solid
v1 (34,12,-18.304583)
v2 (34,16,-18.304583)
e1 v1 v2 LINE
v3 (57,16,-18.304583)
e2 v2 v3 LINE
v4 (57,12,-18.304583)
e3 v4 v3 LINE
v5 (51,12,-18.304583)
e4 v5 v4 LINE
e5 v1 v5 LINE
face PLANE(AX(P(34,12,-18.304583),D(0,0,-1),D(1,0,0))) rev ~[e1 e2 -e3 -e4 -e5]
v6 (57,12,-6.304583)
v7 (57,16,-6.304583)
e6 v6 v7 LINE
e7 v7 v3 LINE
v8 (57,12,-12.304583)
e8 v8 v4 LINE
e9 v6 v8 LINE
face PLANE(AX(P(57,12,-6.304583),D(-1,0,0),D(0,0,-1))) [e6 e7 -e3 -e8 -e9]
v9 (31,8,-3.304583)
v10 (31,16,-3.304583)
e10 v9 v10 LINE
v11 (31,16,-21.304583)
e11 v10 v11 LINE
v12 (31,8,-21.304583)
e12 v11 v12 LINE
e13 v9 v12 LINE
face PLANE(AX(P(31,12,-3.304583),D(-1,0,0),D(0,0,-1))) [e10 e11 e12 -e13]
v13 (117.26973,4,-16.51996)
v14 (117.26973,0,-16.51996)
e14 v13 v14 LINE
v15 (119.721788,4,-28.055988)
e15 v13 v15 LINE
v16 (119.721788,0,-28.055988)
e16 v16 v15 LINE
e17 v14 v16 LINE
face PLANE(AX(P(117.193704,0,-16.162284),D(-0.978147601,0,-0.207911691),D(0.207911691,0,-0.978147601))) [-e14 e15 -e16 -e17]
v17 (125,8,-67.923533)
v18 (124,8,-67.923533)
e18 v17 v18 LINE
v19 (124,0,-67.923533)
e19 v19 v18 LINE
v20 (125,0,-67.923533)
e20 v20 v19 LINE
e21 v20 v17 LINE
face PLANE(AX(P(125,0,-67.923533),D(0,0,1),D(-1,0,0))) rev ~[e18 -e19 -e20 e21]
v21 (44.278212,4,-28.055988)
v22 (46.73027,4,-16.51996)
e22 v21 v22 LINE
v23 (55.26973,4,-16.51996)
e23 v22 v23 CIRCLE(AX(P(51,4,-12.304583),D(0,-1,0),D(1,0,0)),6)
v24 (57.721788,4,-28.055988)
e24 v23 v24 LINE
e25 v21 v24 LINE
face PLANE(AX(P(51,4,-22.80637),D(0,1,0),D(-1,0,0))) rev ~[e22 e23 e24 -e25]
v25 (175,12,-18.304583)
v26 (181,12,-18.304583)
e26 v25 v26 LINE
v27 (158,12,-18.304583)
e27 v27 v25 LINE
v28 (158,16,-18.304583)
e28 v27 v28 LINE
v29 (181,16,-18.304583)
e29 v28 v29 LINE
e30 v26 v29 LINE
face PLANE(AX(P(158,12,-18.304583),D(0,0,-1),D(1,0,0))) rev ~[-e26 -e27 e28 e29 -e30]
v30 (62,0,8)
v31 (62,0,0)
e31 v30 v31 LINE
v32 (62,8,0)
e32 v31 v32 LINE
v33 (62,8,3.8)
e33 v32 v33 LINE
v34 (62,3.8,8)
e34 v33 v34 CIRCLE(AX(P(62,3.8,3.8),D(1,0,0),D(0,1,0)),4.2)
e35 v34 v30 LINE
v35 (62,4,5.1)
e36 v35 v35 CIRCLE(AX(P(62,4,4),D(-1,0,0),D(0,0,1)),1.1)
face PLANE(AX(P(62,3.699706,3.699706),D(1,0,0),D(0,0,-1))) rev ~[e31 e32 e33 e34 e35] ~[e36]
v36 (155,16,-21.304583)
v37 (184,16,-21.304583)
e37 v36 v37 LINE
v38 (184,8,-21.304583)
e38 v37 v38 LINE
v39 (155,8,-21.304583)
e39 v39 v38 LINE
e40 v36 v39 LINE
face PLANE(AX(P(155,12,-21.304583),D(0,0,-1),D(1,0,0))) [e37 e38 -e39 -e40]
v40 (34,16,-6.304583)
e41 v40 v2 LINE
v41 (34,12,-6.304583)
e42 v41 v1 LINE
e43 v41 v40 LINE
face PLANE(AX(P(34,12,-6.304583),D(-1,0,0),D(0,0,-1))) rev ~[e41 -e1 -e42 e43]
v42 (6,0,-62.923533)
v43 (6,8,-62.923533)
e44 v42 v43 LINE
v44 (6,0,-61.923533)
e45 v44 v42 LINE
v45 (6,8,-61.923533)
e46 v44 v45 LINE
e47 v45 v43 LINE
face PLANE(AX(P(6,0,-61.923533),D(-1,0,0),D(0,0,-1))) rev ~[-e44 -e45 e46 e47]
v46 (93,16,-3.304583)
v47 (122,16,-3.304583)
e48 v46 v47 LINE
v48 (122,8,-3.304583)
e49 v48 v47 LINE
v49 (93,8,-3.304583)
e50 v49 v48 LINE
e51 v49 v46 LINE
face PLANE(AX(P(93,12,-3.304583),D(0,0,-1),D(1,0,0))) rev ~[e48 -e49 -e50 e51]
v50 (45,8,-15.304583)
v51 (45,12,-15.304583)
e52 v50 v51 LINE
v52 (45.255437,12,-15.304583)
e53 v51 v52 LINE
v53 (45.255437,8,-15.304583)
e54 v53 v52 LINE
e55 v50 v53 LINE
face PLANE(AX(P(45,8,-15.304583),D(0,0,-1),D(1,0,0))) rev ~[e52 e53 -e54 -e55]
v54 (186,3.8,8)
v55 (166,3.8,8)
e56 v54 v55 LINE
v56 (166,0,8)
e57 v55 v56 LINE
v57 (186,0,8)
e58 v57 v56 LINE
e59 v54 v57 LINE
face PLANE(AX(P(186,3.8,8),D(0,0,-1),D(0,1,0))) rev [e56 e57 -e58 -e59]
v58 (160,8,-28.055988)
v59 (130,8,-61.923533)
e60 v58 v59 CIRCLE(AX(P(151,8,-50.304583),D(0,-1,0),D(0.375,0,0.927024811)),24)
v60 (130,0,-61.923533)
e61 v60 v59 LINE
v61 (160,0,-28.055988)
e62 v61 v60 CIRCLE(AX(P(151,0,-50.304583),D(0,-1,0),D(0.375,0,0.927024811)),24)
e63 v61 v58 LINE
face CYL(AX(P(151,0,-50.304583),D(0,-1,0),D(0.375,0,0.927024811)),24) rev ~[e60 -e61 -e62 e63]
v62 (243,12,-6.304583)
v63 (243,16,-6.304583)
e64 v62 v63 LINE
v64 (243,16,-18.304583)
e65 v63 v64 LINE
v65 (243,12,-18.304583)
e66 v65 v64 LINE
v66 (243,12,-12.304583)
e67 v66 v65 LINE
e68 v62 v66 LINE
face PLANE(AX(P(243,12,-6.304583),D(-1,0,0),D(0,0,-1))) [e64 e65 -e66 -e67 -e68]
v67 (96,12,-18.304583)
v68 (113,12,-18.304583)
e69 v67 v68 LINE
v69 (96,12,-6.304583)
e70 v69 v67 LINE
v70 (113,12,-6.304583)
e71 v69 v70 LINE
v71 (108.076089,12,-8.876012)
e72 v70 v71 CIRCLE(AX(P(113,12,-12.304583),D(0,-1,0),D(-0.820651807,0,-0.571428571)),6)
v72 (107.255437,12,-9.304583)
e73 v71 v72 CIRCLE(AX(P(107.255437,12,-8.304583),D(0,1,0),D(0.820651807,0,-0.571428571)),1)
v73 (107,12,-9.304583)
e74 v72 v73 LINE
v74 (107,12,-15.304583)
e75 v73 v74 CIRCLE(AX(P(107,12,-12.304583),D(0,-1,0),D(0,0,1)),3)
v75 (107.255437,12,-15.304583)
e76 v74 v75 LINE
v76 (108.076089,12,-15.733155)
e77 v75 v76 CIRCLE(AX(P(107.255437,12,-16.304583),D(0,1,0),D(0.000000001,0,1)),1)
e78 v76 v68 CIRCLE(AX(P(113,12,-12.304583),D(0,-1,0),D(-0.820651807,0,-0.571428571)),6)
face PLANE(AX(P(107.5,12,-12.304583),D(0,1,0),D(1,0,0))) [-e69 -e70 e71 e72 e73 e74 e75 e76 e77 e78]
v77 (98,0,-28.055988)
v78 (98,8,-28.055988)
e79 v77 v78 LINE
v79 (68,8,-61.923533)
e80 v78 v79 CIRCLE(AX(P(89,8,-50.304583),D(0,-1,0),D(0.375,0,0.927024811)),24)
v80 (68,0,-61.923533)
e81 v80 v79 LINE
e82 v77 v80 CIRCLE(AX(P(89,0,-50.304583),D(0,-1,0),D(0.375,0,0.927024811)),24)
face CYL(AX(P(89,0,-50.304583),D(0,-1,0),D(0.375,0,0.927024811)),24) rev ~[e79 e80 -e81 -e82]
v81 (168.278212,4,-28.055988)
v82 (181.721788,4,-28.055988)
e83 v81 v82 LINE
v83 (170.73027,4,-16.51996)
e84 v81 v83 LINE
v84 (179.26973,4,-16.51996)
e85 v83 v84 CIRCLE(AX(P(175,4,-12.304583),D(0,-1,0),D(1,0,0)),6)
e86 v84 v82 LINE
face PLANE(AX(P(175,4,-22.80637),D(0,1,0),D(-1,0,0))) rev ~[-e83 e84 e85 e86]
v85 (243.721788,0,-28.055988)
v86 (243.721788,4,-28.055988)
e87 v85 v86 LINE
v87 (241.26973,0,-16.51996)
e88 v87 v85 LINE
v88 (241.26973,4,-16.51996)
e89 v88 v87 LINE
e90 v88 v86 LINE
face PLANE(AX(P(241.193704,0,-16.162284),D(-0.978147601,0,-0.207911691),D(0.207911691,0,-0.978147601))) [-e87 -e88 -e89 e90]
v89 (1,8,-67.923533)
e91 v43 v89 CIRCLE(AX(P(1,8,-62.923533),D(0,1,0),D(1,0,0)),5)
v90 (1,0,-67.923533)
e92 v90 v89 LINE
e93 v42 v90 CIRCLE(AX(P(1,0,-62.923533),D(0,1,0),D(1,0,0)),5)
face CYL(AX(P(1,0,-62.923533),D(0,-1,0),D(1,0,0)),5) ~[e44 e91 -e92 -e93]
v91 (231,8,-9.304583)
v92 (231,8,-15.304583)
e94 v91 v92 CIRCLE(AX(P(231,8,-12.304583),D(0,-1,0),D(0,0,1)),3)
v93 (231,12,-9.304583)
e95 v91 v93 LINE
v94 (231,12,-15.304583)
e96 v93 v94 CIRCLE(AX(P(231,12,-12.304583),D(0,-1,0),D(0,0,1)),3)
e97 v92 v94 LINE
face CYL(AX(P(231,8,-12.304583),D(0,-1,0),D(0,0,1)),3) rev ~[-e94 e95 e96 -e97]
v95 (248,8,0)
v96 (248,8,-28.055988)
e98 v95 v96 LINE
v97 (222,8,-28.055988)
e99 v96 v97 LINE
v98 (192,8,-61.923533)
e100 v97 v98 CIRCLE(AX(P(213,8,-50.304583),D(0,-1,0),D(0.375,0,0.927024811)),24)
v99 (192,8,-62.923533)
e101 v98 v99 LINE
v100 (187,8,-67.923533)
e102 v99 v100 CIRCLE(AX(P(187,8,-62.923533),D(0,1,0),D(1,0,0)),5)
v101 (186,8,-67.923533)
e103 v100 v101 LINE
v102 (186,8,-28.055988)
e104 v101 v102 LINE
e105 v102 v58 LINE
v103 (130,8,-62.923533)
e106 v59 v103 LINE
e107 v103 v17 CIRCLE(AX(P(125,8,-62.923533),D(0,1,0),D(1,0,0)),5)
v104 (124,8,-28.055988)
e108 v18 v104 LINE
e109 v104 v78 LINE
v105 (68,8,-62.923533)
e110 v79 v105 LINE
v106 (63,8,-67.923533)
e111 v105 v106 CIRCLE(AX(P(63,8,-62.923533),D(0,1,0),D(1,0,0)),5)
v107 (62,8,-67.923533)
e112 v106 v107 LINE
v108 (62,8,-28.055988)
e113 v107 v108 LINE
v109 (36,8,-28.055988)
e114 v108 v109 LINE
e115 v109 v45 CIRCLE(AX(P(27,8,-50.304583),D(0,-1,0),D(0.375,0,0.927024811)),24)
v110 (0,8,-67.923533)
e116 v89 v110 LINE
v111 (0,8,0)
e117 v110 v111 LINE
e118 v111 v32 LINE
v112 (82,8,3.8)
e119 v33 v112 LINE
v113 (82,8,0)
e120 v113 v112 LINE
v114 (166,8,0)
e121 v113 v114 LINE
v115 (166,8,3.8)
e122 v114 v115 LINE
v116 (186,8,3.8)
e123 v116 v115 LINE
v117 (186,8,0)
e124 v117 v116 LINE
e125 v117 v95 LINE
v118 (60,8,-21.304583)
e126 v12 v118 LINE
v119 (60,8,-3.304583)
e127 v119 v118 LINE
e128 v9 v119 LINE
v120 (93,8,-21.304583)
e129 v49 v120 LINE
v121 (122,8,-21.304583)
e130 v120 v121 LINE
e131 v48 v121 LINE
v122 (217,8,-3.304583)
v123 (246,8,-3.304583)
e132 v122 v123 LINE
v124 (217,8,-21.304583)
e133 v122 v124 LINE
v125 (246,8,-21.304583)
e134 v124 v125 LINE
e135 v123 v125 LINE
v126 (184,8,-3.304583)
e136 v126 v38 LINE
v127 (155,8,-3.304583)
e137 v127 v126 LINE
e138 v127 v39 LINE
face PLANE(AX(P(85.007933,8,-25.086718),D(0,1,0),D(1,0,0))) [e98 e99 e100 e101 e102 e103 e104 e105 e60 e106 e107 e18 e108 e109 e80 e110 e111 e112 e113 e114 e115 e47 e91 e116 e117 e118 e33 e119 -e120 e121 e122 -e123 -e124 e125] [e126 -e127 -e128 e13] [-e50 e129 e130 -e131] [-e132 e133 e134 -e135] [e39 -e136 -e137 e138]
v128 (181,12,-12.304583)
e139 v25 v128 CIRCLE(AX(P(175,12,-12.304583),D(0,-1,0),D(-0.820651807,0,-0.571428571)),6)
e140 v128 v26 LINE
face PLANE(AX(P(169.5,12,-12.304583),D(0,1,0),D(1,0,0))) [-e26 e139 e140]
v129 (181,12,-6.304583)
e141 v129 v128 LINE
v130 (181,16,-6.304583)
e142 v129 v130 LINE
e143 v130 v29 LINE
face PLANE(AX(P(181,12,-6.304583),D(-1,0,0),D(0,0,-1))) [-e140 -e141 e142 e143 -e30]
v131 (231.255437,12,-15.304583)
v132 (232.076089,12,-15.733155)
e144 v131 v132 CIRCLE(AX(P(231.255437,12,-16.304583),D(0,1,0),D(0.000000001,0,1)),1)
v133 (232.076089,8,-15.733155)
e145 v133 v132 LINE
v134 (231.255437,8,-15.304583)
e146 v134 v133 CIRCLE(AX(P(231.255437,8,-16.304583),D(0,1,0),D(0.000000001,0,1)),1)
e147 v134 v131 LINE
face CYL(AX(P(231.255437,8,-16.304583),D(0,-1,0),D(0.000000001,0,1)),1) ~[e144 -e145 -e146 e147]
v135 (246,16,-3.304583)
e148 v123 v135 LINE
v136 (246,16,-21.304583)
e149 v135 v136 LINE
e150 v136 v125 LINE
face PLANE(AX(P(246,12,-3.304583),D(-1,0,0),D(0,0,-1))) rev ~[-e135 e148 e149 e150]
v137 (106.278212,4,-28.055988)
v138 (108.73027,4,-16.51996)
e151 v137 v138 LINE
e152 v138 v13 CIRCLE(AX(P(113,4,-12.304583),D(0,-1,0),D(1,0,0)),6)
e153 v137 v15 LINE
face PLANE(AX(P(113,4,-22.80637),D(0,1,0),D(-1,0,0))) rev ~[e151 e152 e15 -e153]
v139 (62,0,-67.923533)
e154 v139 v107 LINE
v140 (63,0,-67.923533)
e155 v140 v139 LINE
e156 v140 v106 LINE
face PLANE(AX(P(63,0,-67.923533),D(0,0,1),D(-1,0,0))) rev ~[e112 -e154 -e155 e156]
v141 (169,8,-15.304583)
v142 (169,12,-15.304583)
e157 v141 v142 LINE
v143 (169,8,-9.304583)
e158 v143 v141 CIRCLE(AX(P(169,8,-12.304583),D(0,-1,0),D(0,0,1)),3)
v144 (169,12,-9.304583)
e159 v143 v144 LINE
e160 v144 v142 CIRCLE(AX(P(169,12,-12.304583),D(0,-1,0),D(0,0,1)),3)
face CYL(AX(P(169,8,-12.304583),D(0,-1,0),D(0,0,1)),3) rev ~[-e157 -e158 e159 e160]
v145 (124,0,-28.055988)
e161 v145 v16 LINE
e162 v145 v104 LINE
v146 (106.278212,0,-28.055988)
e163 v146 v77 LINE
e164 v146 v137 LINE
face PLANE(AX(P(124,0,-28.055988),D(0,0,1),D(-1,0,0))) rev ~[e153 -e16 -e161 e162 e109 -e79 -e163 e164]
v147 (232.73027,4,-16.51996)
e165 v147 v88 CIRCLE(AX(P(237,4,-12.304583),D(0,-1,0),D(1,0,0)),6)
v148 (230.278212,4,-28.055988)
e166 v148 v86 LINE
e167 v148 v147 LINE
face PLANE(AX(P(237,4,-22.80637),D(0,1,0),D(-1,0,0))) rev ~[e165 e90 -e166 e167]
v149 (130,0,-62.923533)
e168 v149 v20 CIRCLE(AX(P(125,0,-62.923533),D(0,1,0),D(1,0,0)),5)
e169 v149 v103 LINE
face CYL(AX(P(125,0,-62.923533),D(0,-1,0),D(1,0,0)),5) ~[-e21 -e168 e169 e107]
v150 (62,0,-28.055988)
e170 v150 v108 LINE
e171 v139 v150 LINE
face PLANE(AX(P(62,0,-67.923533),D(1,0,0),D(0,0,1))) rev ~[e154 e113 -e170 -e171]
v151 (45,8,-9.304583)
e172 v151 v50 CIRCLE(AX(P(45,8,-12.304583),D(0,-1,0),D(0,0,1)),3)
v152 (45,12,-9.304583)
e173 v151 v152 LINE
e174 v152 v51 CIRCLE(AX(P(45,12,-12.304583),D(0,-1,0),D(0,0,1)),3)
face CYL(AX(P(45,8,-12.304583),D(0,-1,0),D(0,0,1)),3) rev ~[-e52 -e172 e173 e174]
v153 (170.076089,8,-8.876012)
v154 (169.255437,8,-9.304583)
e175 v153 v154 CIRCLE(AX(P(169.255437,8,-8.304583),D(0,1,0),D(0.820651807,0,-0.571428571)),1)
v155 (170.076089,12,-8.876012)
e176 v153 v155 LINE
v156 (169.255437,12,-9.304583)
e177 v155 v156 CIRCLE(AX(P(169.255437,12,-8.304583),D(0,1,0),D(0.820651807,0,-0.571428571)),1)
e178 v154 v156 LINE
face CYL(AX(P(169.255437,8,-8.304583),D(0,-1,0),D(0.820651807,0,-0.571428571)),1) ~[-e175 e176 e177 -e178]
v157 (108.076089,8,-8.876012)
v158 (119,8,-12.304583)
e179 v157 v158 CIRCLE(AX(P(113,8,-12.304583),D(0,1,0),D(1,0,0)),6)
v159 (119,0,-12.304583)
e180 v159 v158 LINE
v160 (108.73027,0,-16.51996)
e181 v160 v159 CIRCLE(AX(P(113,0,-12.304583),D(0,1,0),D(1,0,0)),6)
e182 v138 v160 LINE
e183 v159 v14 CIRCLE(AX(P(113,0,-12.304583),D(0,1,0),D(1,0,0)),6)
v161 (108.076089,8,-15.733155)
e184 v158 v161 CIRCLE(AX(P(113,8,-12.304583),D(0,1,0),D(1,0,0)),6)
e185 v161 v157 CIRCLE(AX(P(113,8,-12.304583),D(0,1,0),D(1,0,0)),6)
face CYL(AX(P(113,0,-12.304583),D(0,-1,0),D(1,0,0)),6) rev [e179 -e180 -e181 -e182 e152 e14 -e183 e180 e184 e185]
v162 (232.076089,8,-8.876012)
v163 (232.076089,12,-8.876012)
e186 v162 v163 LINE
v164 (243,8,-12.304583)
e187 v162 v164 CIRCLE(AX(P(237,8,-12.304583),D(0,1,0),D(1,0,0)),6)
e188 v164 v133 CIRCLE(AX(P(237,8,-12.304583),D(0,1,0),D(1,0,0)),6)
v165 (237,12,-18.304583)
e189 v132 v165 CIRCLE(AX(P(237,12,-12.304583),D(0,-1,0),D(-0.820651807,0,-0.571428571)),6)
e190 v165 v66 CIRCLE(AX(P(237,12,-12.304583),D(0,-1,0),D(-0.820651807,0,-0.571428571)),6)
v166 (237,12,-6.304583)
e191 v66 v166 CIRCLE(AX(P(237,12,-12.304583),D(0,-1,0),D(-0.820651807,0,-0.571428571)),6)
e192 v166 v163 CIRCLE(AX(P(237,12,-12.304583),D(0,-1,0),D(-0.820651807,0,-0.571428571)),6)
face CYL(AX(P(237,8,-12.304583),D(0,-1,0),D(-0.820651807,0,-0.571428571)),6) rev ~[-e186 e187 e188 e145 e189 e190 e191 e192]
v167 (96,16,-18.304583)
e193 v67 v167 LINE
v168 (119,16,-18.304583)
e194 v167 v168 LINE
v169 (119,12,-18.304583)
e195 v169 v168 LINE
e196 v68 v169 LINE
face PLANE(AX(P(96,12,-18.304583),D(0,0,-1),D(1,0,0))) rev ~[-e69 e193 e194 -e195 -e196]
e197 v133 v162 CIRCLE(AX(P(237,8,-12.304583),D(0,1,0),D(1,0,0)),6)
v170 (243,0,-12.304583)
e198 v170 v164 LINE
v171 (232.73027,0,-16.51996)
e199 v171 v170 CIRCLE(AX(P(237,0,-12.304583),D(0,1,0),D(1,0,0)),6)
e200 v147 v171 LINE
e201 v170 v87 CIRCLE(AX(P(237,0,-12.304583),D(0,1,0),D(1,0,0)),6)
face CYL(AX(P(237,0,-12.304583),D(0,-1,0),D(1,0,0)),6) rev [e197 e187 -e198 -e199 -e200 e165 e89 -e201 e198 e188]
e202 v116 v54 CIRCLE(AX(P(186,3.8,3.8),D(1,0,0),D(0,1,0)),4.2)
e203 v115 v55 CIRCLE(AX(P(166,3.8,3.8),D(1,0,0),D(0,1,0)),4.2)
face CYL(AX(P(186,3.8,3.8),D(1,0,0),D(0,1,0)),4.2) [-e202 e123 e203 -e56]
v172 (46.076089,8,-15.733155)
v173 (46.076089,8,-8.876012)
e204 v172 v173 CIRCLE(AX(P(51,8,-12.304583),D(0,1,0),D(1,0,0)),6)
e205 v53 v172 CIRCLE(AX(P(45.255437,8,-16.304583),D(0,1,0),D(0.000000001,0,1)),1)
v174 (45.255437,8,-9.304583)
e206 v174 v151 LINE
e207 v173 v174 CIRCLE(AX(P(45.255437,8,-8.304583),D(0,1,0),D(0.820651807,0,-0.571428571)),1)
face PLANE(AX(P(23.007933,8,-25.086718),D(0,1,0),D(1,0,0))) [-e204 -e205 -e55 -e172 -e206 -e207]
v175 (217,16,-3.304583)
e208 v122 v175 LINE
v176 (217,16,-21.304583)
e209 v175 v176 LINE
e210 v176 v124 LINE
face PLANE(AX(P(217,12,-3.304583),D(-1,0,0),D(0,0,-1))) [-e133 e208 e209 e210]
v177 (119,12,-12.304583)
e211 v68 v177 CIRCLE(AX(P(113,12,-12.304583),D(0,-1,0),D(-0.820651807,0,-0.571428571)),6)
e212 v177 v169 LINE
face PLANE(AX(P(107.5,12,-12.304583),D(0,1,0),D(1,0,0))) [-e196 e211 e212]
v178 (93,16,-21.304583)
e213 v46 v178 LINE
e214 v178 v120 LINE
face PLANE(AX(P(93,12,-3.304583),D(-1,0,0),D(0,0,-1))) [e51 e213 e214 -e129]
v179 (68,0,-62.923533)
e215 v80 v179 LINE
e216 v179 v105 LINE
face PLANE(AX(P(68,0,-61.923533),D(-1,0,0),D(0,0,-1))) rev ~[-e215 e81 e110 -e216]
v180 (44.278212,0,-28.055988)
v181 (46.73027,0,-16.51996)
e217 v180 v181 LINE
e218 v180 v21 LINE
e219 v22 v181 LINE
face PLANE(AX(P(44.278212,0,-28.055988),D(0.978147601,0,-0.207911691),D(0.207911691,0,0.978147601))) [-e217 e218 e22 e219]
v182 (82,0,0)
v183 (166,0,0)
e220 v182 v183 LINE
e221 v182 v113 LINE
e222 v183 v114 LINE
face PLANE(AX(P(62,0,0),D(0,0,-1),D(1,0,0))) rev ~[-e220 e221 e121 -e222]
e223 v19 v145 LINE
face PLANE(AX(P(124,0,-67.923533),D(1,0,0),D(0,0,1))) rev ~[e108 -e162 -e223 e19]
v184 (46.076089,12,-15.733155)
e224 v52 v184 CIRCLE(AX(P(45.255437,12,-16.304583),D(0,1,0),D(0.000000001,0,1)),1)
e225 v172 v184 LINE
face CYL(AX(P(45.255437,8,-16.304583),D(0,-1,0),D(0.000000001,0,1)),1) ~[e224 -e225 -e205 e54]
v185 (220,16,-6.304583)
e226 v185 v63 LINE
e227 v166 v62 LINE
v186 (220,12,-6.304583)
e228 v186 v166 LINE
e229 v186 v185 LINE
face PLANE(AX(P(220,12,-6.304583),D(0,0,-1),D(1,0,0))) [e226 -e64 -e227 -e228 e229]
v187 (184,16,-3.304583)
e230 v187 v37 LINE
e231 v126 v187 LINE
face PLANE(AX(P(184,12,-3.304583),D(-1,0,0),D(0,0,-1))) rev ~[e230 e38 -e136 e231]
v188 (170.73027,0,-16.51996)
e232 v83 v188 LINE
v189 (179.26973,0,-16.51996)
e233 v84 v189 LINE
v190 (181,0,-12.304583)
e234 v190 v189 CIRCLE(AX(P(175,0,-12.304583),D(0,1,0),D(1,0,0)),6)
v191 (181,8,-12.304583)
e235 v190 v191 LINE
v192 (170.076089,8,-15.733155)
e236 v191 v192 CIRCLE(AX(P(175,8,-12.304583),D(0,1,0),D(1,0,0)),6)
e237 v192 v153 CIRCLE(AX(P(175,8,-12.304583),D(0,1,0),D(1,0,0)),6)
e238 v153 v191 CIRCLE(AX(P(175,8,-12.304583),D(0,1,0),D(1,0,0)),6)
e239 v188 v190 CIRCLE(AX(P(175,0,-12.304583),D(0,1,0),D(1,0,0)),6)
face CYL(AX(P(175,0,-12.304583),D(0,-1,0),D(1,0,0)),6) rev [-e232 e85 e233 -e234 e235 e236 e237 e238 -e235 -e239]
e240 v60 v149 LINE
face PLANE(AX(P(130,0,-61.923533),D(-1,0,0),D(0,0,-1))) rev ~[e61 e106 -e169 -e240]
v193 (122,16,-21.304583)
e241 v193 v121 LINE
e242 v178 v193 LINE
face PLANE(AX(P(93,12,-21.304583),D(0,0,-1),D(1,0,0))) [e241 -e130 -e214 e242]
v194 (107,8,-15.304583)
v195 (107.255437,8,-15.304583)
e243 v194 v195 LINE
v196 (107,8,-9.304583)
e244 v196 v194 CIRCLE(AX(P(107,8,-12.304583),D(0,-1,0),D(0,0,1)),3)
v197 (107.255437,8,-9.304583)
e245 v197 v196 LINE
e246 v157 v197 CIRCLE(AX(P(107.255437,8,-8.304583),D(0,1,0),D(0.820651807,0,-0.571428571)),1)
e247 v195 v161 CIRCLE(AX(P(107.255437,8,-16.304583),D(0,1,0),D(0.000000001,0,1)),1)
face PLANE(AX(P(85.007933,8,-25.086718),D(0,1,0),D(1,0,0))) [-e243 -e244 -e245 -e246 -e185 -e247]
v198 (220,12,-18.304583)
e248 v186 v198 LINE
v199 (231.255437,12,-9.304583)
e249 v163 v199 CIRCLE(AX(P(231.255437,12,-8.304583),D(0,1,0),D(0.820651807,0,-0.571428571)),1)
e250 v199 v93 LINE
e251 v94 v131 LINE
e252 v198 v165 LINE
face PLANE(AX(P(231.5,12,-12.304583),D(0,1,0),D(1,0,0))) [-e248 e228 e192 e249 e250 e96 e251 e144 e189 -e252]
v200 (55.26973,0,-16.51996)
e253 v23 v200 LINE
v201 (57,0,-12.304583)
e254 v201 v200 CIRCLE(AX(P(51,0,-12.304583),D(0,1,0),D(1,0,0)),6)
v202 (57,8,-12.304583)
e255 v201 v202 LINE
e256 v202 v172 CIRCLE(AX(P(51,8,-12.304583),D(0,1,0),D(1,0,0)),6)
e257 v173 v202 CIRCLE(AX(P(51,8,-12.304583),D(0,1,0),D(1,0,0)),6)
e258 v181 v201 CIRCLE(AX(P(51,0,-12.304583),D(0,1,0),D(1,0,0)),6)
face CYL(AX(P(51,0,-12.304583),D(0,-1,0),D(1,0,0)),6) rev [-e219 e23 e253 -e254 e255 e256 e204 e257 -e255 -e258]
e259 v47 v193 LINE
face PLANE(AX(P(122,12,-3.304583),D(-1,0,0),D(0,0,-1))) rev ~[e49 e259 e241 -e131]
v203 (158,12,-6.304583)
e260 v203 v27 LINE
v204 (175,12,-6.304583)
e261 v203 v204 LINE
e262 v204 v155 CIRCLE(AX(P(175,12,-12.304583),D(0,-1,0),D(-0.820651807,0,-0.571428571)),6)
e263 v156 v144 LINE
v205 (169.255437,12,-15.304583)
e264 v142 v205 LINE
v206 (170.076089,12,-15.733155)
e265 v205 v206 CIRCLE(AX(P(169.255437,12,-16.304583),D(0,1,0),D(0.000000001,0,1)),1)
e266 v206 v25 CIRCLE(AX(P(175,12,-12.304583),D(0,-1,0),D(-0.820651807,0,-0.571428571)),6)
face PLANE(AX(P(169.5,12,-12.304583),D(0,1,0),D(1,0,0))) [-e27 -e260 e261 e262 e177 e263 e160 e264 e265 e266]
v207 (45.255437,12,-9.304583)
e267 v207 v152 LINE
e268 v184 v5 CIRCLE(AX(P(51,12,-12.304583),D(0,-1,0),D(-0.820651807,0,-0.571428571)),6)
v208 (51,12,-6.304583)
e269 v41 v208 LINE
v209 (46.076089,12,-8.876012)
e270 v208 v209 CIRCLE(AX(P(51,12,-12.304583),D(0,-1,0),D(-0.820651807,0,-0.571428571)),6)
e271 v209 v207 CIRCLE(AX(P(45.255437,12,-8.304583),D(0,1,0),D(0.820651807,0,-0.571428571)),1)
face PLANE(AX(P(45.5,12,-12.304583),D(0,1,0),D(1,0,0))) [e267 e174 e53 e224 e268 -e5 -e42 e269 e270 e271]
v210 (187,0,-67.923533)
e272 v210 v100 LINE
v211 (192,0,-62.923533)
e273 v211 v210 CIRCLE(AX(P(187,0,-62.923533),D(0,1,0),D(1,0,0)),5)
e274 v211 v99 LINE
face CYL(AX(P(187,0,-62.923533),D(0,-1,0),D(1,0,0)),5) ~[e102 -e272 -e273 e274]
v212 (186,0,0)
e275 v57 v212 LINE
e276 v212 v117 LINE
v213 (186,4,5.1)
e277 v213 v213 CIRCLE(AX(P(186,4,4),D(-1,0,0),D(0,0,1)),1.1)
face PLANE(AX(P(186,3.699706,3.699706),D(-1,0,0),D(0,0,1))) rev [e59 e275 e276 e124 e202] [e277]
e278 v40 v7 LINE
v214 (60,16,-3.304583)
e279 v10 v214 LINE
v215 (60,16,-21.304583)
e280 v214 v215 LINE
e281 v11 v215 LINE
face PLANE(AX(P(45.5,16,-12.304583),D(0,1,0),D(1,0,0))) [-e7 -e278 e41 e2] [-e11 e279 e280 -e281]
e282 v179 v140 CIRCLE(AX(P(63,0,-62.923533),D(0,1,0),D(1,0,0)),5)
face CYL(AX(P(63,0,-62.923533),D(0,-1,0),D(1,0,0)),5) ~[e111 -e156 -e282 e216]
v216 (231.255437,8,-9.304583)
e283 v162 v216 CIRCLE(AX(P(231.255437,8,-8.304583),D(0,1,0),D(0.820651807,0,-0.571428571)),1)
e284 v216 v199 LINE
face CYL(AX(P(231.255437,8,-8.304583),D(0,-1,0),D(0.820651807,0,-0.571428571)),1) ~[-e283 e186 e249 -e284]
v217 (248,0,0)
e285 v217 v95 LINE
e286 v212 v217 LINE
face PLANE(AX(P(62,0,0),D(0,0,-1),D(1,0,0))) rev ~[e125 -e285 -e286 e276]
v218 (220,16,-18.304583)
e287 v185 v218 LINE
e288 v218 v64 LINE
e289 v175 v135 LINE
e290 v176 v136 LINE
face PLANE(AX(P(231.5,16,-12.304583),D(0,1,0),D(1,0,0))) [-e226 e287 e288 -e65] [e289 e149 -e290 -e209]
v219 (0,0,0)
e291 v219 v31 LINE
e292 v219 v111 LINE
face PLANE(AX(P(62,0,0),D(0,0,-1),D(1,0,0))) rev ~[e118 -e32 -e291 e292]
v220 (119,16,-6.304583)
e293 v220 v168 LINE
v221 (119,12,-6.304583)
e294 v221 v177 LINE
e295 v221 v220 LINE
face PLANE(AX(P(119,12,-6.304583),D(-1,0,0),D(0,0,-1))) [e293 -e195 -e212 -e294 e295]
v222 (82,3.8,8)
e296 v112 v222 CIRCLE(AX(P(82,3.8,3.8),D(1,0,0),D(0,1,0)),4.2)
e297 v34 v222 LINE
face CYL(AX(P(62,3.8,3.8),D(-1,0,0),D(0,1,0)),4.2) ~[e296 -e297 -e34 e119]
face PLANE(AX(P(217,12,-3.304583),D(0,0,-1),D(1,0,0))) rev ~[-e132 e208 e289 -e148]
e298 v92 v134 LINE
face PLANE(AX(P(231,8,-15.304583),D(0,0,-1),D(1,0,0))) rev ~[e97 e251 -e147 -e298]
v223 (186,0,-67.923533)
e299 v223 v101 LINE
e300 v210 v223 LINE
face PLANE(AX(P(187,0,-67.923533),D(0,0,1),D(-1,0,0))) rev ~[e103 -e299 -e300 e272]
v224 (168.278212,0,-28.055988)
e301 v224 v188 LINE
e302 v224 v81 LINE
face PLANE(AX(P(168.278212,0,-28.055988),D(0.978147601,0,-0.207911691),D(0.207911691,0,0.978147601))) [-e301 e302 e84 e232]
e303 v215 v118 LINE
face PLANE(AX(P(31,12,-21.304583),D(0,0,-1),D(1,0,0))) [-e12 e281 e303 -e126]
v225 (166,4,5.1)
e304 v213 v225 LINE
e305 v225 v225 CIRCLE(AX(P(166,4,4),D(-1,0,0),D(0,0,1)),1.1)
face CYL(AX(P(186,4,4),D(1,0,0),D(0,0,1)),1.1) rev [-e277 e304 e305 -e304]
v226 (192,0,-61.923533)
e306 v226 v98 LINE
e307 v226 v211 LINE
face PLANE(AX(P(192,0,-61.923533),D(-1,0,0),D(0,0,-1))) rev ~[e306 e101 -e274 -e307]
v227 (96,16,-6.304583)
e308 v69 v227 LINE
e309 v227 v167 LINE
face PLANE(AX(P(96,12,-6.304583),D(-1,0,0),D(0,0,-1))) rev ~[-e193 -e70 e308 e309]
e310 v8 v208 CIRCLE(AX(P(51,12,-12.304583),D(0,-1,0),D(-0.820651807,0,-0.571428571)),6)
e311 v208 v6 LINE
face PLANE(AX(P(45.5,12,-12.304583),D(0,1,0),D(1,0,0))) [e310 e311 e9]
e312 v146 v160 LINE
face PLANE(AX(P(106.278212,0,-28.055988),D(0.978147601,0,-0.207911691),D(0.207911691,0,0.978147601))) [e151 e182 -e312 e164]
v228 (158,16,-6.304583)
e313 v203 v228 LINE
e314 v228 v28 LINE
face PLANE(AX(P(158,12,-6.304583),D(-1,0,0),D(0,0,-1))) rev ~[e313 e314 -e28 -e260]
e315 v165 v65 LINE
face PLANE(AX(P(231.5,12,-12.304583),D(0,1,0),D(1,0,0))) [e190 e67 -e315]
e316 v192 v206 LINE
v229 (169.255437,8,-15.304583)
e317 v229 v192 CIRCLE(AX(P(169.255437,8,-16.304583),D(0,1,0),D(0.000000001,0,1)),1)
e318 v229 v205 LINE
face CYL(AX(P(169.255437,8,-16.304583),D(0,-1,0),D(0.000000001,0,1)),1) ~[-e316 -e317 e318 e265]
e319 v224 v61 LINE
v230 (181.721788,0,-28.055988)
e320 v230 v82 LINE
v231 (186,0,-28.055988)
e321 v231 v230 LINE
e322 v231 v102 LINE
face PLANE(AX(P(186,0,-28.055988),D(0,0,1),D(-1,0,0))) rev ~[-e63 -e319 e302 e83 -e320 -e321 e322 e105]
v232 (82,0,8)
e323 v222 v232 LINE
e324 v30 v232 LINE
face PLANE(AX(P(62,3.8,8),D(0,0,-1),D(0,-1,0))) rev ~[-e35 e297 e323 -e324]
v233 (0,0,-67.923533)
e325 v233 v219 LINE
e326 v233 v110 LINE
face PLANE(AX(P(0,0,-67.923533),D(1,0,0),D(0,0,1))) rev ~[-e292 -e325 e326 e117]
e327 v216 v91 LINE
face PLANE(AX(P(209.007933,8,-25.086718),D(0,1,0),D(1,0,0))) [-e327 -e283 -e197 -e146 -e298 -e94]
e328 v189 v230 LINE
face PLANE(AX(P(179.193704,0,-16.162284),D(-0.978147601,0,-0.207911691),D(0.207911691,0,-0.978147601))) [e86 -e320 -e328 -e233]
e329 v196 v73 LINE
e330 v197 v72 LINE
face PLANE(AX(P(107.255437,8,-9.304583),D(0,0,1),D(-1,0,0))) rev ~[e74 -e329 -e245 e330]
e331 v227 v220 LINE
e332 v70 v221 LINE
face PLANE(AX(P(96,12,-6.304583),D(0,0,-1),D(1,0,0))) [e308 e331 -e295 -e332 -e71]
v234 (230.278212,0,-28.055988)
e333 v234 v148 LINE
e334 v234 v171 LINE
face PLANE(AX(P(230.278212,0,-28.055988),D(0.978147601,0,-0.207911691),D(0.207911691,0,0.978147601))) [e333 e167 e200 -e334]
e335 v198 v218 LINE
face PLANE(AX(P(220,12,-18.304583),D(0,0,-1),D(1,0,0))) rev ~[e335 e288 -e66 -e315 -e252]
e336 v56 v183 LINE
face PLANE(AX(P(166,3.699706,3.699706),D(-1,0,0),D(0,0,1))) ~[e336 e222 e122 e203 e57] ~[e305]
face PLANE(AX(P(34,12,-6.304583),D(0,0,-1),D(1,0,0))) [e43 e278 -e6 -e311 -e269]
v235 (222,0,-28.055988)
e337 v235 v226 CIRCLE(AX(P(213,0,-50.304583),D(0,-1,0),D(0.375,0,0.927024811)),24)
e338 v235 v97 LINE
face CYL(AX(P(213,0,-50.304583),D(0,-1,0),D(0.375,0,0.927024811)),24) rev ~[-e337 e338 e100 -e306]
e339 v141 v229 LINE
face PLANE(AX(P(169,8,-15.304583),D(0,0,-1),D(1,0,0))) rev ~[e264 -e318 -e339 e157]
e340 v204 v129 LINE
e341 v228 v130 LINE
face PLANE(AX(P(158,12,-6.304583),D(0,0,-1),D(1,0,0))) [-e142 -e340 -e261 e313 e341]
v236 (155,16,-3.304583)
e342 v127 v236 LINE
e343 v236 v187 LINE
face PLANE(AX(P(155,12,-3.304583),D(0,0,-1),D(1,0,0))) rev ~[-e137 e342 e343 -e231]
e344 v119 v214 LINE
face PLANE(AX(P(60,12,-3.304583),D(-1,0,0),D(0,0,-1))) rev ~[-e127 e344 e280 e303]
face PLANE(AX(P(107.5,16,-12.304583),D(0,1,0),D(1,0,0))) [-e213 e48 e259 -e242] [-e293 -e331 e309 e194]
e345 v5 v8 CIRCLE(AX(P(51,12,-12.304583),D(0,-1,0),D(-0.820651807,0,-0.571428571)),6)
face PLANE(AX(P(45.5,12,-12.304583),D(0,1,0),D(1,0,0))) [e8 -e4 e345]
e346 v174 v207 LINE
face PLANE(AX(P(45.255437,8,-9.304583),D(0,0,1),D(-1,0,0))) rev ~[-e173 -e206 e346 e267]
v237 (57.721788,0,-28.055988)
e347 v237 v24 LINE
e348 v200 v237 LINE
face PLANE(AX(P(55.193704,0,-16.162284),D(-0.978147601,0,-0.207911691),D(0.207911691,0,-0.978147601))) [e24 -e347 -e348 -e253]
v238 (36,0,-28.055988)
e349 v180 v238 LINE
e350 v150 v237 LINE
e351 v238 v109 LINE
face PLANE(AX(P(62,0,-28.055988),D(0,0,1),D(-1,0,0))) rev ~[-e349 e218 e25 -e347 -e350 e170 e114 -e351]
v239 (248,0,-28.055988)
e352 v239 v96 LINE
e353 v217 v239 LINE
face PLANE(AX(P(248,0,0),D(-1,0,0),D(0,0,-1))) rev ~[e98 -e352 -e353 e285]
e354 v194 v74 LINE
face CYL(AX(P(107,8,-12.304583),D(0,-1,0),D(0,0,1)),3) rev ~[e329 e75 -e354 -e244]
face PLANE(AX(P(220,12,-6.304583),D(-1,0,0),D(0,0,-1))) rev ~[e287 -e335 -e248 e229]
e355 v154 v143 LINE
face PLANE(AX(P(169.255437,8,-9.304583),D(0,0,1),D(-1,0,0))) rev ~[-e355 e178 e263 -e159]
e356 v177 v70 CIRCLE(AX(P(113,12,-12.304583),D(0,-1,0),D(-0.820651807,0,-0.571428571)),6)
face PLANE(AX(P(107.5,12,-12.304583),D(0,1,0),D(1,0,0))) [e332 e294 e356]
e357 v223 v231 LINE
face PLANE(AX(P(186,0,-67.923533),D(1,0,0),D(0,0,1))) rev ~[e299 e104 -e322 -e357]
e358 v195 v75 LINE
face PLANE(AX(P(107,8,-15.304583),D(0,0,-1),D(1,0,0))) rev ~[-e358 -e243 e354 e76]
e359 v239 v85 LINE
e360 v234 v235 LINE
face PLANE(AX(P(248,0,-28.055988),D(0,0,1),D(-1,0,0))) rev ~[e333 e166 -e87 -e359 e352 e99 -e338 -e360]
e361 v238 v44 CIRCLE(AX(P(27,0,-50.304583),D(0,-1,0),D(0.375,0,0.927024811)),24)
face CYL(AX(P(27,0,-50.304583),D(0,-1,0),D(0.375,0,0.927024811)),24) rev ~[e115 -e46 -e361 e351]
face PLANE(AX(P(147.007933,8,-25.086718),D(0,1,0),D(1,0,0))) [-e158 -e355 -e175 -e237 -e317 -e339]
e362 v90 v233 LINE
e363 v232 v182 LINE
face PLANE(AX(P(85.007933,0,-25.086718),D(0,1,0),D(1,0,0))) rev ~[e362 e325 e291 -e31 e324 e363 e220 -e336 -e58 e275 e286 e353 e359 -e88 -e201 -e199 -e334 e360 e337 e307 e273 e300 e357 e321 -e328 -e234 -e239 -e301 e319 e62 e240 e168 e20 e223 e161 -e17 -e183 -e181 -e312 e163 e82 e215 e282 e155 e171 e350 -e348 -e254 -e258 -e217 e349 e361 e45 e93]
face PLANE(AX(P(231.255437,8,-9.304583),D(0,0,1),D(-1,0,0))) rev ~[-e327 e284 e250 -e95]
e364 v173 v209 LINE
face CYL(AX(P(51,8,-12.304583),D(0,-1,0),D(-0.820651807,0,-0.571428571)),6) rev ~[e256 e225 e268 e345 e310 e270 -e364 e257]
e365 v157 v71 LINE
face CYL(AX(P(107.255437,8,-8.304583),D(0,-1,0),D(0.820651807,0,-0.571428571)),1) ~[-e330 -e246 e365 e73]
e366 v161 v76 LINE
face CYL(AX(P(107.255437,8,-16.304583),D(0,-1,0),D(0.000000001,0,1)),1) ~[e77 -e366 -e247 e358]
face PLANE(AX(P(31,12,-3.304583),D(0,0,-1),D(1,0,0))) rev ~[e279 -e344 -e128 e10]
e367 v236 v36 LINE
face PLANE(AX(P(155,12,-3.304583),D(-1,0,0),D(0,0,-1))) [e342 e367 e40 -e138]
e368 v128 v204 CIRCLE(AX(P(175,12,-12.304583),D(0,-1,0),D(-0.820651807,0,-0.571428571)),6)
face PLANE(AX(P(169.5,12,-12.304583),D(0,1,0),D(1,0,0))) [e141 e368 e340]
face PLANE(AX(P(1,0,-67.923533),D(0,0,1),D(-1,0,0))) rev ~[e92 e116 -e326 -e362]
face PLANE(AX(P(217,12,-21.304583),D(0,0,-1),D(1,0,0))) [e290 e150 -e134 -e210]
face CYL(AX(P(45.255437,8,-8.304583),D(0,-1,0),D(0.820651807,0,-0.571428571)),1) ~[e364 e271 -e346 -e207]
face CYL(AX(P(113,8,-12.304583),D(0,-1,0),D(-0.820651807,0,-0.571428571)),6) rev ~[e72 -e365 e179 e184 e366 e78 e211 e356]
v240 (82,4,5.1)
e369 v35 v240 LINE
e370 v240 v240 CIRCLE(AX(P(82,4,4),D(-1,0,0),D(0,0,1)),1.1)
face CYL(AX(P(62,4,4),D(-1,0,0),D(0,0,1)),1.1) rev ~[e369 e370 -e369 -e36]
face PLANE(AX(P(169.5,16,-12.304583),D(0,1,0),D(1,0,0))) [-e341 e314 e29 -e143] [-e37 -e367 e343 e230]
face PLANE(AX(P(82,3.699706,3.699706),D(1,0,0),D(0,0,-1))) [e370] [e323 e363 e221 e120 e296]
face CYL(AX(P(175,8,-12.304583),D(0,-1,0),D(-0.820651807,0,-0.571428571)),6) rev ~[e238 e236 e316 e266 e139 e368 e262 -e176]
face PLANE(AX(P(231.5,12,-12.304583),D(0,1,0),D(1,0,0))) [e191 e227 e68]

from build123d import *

# Parameters (mm, degrees)
ESQUISSE1_R                = 6
BOSS_EXTRU_1_DEPTH         = 8
ESQUISSE2_W                = 29
ESQUISSE2_H                = 18
BOSS_EXTRU_2_DEPTH         = 4
ESQUISSE3_W                = 29
ESQUISSE3_H                = 18
ESQUISSE3_W_2              = 23
ESQUISSE3_H_2              = 12
BOSS_EXTRU_3_DEPTH         = 4
ENL_V_MAT_EXTRU_1_DEPTH    = 4
R_P_TITION_LIN_AIRE1_COUNT = 4
R_P_TITION_LIN_AIRE1_PITCH = 62
ESQUISSE5_R                = 1.1
BOSS_EXTRU_4_DEPTH         = 20


with BuildPart() as part:
    # Esquisse1 → Boss.-Extru.1 (new body)
    with BuildSketch(Plane(origin=(0, 0, 0), x_dir=(1, 0, 0), z_dir=(0, 1, 0))):
        with BuildLine():
            Line((0, 0), (6, 0))
            Line((6, 0), (36, 0))
            Line((36, 0), (62, 0))
            Line((62, 0), (62, 28.055987731))
            Line((62, 28.055987731), (36, 28.055987731))
            ThreePointArc((36, 28.055987731), (9.034681758, 34.39083629), (6, 61.923533231))
            Line((6, 61.923533231), (6, 62.923533231))
            ThreePointArc((6, 62.923533231), (4.535533906, 66.459067137), (1, 67.923533231))
            Line((1, 67.923533231), (0, 67.923533231))
            Line((0, 67.923533231), (0, 0))
        make_face()
        with Locations((51, 12.304583192)):
            Circle(ESQUISSE1_R, mode=Mode.SUBTRACT)
    extrude(amount=BOSS_EXTRU_1_DEPTH)

    # Esquisse2 → Boss.-Extru.2 (add)
    with BuildSketch(Plane(origin=(0, 8, 0), x_dir=(1, 0, 0), z_dir=(0, 1, 0))):
        with Locations((45.5, 12.304583192)):
            Rectangle(ESQUISSE2_W, ESQUISSE2_H)
        with BuildLine():
            Line((45, 15.304583192), (45.255437353, 15.304583192))
            ThreePointArc((45.255437353, 15.304583192), (45.718347403, 15.418177932), (46.07608916, 15.733154621))
            ThreePointArc((46.07608916, 15.733154621), (57, 12.304583192), (46.07608916, 8.876011764))
            ThreePointArc((46.07608916, 8.876011764), (45.718347403, 9.190988453), (45.255437353, 9.304583192))
            Line((45.255437353, 9.304583192), (45, 9.304583192))
            ThreePointArc((45, 9.304583192), (42, 12.304583192), (45, 15.304583192))
        make_face(mode=Mode.SUBTRACT)
    extrude(amount=BOSS_EXTRU_2_DEPTH)

    # Esquisse3 → Boss.-Extru.3 (add)
    with BuildSketch(Plane(origin=(0, 12, 0), x_dir=(1, 0, 0), z_dir=(0, 1, 0))):
        with Locations((45.5, 12.304583192)):
            Rectangle(ESQUISSE3_W, ESQUISSE3_H)
        with Locations((45.5, 12.304583192)):
            Rectangle(ESQUISSE3_W_2, ESQUISSE3_H_2, mode=Mode.SUBTRACT)
    extrude(amount=BOSS_EXTRU_3_DEPTH)

    # Esquisse4 → Enlèv. mat.-Extru.1 (cut)
    with BuildSketch(Plane.XZ):
        Polygon((47.7, -17.055987731), (54.3, -17.055987731), (55.193703609, -16.162284122), (57.721788353, -28.055987731), (54.3, -28.055987731), (47.7, -28.055987731), (44.278211647, -28.055987731), (46.806296391, -16.162284122), align=None)
    extrude(amount=-ENL_V_MAT_EXTRU_1_DEPTH, mode=Mode.SUBTRACT)

    # Répétition linéaire1: part ×4


with BuildPart() as part_1:
    add(part.part)
    with Locations(*[(i * R_P_TITION_LIN_AIRE1_PITCH, 0, 0) for i in range(1, R_P_TITION_LIN_AIRE1_COUNT)]):
        add(part.part)

    # Esquisse5 → Boss.-Extru.4 (add)
    with BuildSketch(Plane.ZY.offset(-62)):
        with BuildLine():
            Line((0, 8), (3.8, 8))
            ThreePointArc((3.8, 8), (6.769848481, 6.769848481), (8, 3.8))
            Line((8, 3.8), (8, 0))
            Line((8, 0), (0, 0))
            Line((0, 0), (0, 8))
        make_face()
        with Locations((4, 4)):
            Circle(ESQUISSE5_R, mode=Mode.SUBTRACT)
    boss_extru_4 = extrude(amount=-BOSS_EXTRU_4_DEPTH)

    # Symétrie1: Boss.-Extru.4 across plane
    add(boss_extru_4.mirror(Plane(origin=(124, 8, 0), x_dir=(0, 0, 1), z_dir=(1, 0, 0))))


solid = part_1.part
